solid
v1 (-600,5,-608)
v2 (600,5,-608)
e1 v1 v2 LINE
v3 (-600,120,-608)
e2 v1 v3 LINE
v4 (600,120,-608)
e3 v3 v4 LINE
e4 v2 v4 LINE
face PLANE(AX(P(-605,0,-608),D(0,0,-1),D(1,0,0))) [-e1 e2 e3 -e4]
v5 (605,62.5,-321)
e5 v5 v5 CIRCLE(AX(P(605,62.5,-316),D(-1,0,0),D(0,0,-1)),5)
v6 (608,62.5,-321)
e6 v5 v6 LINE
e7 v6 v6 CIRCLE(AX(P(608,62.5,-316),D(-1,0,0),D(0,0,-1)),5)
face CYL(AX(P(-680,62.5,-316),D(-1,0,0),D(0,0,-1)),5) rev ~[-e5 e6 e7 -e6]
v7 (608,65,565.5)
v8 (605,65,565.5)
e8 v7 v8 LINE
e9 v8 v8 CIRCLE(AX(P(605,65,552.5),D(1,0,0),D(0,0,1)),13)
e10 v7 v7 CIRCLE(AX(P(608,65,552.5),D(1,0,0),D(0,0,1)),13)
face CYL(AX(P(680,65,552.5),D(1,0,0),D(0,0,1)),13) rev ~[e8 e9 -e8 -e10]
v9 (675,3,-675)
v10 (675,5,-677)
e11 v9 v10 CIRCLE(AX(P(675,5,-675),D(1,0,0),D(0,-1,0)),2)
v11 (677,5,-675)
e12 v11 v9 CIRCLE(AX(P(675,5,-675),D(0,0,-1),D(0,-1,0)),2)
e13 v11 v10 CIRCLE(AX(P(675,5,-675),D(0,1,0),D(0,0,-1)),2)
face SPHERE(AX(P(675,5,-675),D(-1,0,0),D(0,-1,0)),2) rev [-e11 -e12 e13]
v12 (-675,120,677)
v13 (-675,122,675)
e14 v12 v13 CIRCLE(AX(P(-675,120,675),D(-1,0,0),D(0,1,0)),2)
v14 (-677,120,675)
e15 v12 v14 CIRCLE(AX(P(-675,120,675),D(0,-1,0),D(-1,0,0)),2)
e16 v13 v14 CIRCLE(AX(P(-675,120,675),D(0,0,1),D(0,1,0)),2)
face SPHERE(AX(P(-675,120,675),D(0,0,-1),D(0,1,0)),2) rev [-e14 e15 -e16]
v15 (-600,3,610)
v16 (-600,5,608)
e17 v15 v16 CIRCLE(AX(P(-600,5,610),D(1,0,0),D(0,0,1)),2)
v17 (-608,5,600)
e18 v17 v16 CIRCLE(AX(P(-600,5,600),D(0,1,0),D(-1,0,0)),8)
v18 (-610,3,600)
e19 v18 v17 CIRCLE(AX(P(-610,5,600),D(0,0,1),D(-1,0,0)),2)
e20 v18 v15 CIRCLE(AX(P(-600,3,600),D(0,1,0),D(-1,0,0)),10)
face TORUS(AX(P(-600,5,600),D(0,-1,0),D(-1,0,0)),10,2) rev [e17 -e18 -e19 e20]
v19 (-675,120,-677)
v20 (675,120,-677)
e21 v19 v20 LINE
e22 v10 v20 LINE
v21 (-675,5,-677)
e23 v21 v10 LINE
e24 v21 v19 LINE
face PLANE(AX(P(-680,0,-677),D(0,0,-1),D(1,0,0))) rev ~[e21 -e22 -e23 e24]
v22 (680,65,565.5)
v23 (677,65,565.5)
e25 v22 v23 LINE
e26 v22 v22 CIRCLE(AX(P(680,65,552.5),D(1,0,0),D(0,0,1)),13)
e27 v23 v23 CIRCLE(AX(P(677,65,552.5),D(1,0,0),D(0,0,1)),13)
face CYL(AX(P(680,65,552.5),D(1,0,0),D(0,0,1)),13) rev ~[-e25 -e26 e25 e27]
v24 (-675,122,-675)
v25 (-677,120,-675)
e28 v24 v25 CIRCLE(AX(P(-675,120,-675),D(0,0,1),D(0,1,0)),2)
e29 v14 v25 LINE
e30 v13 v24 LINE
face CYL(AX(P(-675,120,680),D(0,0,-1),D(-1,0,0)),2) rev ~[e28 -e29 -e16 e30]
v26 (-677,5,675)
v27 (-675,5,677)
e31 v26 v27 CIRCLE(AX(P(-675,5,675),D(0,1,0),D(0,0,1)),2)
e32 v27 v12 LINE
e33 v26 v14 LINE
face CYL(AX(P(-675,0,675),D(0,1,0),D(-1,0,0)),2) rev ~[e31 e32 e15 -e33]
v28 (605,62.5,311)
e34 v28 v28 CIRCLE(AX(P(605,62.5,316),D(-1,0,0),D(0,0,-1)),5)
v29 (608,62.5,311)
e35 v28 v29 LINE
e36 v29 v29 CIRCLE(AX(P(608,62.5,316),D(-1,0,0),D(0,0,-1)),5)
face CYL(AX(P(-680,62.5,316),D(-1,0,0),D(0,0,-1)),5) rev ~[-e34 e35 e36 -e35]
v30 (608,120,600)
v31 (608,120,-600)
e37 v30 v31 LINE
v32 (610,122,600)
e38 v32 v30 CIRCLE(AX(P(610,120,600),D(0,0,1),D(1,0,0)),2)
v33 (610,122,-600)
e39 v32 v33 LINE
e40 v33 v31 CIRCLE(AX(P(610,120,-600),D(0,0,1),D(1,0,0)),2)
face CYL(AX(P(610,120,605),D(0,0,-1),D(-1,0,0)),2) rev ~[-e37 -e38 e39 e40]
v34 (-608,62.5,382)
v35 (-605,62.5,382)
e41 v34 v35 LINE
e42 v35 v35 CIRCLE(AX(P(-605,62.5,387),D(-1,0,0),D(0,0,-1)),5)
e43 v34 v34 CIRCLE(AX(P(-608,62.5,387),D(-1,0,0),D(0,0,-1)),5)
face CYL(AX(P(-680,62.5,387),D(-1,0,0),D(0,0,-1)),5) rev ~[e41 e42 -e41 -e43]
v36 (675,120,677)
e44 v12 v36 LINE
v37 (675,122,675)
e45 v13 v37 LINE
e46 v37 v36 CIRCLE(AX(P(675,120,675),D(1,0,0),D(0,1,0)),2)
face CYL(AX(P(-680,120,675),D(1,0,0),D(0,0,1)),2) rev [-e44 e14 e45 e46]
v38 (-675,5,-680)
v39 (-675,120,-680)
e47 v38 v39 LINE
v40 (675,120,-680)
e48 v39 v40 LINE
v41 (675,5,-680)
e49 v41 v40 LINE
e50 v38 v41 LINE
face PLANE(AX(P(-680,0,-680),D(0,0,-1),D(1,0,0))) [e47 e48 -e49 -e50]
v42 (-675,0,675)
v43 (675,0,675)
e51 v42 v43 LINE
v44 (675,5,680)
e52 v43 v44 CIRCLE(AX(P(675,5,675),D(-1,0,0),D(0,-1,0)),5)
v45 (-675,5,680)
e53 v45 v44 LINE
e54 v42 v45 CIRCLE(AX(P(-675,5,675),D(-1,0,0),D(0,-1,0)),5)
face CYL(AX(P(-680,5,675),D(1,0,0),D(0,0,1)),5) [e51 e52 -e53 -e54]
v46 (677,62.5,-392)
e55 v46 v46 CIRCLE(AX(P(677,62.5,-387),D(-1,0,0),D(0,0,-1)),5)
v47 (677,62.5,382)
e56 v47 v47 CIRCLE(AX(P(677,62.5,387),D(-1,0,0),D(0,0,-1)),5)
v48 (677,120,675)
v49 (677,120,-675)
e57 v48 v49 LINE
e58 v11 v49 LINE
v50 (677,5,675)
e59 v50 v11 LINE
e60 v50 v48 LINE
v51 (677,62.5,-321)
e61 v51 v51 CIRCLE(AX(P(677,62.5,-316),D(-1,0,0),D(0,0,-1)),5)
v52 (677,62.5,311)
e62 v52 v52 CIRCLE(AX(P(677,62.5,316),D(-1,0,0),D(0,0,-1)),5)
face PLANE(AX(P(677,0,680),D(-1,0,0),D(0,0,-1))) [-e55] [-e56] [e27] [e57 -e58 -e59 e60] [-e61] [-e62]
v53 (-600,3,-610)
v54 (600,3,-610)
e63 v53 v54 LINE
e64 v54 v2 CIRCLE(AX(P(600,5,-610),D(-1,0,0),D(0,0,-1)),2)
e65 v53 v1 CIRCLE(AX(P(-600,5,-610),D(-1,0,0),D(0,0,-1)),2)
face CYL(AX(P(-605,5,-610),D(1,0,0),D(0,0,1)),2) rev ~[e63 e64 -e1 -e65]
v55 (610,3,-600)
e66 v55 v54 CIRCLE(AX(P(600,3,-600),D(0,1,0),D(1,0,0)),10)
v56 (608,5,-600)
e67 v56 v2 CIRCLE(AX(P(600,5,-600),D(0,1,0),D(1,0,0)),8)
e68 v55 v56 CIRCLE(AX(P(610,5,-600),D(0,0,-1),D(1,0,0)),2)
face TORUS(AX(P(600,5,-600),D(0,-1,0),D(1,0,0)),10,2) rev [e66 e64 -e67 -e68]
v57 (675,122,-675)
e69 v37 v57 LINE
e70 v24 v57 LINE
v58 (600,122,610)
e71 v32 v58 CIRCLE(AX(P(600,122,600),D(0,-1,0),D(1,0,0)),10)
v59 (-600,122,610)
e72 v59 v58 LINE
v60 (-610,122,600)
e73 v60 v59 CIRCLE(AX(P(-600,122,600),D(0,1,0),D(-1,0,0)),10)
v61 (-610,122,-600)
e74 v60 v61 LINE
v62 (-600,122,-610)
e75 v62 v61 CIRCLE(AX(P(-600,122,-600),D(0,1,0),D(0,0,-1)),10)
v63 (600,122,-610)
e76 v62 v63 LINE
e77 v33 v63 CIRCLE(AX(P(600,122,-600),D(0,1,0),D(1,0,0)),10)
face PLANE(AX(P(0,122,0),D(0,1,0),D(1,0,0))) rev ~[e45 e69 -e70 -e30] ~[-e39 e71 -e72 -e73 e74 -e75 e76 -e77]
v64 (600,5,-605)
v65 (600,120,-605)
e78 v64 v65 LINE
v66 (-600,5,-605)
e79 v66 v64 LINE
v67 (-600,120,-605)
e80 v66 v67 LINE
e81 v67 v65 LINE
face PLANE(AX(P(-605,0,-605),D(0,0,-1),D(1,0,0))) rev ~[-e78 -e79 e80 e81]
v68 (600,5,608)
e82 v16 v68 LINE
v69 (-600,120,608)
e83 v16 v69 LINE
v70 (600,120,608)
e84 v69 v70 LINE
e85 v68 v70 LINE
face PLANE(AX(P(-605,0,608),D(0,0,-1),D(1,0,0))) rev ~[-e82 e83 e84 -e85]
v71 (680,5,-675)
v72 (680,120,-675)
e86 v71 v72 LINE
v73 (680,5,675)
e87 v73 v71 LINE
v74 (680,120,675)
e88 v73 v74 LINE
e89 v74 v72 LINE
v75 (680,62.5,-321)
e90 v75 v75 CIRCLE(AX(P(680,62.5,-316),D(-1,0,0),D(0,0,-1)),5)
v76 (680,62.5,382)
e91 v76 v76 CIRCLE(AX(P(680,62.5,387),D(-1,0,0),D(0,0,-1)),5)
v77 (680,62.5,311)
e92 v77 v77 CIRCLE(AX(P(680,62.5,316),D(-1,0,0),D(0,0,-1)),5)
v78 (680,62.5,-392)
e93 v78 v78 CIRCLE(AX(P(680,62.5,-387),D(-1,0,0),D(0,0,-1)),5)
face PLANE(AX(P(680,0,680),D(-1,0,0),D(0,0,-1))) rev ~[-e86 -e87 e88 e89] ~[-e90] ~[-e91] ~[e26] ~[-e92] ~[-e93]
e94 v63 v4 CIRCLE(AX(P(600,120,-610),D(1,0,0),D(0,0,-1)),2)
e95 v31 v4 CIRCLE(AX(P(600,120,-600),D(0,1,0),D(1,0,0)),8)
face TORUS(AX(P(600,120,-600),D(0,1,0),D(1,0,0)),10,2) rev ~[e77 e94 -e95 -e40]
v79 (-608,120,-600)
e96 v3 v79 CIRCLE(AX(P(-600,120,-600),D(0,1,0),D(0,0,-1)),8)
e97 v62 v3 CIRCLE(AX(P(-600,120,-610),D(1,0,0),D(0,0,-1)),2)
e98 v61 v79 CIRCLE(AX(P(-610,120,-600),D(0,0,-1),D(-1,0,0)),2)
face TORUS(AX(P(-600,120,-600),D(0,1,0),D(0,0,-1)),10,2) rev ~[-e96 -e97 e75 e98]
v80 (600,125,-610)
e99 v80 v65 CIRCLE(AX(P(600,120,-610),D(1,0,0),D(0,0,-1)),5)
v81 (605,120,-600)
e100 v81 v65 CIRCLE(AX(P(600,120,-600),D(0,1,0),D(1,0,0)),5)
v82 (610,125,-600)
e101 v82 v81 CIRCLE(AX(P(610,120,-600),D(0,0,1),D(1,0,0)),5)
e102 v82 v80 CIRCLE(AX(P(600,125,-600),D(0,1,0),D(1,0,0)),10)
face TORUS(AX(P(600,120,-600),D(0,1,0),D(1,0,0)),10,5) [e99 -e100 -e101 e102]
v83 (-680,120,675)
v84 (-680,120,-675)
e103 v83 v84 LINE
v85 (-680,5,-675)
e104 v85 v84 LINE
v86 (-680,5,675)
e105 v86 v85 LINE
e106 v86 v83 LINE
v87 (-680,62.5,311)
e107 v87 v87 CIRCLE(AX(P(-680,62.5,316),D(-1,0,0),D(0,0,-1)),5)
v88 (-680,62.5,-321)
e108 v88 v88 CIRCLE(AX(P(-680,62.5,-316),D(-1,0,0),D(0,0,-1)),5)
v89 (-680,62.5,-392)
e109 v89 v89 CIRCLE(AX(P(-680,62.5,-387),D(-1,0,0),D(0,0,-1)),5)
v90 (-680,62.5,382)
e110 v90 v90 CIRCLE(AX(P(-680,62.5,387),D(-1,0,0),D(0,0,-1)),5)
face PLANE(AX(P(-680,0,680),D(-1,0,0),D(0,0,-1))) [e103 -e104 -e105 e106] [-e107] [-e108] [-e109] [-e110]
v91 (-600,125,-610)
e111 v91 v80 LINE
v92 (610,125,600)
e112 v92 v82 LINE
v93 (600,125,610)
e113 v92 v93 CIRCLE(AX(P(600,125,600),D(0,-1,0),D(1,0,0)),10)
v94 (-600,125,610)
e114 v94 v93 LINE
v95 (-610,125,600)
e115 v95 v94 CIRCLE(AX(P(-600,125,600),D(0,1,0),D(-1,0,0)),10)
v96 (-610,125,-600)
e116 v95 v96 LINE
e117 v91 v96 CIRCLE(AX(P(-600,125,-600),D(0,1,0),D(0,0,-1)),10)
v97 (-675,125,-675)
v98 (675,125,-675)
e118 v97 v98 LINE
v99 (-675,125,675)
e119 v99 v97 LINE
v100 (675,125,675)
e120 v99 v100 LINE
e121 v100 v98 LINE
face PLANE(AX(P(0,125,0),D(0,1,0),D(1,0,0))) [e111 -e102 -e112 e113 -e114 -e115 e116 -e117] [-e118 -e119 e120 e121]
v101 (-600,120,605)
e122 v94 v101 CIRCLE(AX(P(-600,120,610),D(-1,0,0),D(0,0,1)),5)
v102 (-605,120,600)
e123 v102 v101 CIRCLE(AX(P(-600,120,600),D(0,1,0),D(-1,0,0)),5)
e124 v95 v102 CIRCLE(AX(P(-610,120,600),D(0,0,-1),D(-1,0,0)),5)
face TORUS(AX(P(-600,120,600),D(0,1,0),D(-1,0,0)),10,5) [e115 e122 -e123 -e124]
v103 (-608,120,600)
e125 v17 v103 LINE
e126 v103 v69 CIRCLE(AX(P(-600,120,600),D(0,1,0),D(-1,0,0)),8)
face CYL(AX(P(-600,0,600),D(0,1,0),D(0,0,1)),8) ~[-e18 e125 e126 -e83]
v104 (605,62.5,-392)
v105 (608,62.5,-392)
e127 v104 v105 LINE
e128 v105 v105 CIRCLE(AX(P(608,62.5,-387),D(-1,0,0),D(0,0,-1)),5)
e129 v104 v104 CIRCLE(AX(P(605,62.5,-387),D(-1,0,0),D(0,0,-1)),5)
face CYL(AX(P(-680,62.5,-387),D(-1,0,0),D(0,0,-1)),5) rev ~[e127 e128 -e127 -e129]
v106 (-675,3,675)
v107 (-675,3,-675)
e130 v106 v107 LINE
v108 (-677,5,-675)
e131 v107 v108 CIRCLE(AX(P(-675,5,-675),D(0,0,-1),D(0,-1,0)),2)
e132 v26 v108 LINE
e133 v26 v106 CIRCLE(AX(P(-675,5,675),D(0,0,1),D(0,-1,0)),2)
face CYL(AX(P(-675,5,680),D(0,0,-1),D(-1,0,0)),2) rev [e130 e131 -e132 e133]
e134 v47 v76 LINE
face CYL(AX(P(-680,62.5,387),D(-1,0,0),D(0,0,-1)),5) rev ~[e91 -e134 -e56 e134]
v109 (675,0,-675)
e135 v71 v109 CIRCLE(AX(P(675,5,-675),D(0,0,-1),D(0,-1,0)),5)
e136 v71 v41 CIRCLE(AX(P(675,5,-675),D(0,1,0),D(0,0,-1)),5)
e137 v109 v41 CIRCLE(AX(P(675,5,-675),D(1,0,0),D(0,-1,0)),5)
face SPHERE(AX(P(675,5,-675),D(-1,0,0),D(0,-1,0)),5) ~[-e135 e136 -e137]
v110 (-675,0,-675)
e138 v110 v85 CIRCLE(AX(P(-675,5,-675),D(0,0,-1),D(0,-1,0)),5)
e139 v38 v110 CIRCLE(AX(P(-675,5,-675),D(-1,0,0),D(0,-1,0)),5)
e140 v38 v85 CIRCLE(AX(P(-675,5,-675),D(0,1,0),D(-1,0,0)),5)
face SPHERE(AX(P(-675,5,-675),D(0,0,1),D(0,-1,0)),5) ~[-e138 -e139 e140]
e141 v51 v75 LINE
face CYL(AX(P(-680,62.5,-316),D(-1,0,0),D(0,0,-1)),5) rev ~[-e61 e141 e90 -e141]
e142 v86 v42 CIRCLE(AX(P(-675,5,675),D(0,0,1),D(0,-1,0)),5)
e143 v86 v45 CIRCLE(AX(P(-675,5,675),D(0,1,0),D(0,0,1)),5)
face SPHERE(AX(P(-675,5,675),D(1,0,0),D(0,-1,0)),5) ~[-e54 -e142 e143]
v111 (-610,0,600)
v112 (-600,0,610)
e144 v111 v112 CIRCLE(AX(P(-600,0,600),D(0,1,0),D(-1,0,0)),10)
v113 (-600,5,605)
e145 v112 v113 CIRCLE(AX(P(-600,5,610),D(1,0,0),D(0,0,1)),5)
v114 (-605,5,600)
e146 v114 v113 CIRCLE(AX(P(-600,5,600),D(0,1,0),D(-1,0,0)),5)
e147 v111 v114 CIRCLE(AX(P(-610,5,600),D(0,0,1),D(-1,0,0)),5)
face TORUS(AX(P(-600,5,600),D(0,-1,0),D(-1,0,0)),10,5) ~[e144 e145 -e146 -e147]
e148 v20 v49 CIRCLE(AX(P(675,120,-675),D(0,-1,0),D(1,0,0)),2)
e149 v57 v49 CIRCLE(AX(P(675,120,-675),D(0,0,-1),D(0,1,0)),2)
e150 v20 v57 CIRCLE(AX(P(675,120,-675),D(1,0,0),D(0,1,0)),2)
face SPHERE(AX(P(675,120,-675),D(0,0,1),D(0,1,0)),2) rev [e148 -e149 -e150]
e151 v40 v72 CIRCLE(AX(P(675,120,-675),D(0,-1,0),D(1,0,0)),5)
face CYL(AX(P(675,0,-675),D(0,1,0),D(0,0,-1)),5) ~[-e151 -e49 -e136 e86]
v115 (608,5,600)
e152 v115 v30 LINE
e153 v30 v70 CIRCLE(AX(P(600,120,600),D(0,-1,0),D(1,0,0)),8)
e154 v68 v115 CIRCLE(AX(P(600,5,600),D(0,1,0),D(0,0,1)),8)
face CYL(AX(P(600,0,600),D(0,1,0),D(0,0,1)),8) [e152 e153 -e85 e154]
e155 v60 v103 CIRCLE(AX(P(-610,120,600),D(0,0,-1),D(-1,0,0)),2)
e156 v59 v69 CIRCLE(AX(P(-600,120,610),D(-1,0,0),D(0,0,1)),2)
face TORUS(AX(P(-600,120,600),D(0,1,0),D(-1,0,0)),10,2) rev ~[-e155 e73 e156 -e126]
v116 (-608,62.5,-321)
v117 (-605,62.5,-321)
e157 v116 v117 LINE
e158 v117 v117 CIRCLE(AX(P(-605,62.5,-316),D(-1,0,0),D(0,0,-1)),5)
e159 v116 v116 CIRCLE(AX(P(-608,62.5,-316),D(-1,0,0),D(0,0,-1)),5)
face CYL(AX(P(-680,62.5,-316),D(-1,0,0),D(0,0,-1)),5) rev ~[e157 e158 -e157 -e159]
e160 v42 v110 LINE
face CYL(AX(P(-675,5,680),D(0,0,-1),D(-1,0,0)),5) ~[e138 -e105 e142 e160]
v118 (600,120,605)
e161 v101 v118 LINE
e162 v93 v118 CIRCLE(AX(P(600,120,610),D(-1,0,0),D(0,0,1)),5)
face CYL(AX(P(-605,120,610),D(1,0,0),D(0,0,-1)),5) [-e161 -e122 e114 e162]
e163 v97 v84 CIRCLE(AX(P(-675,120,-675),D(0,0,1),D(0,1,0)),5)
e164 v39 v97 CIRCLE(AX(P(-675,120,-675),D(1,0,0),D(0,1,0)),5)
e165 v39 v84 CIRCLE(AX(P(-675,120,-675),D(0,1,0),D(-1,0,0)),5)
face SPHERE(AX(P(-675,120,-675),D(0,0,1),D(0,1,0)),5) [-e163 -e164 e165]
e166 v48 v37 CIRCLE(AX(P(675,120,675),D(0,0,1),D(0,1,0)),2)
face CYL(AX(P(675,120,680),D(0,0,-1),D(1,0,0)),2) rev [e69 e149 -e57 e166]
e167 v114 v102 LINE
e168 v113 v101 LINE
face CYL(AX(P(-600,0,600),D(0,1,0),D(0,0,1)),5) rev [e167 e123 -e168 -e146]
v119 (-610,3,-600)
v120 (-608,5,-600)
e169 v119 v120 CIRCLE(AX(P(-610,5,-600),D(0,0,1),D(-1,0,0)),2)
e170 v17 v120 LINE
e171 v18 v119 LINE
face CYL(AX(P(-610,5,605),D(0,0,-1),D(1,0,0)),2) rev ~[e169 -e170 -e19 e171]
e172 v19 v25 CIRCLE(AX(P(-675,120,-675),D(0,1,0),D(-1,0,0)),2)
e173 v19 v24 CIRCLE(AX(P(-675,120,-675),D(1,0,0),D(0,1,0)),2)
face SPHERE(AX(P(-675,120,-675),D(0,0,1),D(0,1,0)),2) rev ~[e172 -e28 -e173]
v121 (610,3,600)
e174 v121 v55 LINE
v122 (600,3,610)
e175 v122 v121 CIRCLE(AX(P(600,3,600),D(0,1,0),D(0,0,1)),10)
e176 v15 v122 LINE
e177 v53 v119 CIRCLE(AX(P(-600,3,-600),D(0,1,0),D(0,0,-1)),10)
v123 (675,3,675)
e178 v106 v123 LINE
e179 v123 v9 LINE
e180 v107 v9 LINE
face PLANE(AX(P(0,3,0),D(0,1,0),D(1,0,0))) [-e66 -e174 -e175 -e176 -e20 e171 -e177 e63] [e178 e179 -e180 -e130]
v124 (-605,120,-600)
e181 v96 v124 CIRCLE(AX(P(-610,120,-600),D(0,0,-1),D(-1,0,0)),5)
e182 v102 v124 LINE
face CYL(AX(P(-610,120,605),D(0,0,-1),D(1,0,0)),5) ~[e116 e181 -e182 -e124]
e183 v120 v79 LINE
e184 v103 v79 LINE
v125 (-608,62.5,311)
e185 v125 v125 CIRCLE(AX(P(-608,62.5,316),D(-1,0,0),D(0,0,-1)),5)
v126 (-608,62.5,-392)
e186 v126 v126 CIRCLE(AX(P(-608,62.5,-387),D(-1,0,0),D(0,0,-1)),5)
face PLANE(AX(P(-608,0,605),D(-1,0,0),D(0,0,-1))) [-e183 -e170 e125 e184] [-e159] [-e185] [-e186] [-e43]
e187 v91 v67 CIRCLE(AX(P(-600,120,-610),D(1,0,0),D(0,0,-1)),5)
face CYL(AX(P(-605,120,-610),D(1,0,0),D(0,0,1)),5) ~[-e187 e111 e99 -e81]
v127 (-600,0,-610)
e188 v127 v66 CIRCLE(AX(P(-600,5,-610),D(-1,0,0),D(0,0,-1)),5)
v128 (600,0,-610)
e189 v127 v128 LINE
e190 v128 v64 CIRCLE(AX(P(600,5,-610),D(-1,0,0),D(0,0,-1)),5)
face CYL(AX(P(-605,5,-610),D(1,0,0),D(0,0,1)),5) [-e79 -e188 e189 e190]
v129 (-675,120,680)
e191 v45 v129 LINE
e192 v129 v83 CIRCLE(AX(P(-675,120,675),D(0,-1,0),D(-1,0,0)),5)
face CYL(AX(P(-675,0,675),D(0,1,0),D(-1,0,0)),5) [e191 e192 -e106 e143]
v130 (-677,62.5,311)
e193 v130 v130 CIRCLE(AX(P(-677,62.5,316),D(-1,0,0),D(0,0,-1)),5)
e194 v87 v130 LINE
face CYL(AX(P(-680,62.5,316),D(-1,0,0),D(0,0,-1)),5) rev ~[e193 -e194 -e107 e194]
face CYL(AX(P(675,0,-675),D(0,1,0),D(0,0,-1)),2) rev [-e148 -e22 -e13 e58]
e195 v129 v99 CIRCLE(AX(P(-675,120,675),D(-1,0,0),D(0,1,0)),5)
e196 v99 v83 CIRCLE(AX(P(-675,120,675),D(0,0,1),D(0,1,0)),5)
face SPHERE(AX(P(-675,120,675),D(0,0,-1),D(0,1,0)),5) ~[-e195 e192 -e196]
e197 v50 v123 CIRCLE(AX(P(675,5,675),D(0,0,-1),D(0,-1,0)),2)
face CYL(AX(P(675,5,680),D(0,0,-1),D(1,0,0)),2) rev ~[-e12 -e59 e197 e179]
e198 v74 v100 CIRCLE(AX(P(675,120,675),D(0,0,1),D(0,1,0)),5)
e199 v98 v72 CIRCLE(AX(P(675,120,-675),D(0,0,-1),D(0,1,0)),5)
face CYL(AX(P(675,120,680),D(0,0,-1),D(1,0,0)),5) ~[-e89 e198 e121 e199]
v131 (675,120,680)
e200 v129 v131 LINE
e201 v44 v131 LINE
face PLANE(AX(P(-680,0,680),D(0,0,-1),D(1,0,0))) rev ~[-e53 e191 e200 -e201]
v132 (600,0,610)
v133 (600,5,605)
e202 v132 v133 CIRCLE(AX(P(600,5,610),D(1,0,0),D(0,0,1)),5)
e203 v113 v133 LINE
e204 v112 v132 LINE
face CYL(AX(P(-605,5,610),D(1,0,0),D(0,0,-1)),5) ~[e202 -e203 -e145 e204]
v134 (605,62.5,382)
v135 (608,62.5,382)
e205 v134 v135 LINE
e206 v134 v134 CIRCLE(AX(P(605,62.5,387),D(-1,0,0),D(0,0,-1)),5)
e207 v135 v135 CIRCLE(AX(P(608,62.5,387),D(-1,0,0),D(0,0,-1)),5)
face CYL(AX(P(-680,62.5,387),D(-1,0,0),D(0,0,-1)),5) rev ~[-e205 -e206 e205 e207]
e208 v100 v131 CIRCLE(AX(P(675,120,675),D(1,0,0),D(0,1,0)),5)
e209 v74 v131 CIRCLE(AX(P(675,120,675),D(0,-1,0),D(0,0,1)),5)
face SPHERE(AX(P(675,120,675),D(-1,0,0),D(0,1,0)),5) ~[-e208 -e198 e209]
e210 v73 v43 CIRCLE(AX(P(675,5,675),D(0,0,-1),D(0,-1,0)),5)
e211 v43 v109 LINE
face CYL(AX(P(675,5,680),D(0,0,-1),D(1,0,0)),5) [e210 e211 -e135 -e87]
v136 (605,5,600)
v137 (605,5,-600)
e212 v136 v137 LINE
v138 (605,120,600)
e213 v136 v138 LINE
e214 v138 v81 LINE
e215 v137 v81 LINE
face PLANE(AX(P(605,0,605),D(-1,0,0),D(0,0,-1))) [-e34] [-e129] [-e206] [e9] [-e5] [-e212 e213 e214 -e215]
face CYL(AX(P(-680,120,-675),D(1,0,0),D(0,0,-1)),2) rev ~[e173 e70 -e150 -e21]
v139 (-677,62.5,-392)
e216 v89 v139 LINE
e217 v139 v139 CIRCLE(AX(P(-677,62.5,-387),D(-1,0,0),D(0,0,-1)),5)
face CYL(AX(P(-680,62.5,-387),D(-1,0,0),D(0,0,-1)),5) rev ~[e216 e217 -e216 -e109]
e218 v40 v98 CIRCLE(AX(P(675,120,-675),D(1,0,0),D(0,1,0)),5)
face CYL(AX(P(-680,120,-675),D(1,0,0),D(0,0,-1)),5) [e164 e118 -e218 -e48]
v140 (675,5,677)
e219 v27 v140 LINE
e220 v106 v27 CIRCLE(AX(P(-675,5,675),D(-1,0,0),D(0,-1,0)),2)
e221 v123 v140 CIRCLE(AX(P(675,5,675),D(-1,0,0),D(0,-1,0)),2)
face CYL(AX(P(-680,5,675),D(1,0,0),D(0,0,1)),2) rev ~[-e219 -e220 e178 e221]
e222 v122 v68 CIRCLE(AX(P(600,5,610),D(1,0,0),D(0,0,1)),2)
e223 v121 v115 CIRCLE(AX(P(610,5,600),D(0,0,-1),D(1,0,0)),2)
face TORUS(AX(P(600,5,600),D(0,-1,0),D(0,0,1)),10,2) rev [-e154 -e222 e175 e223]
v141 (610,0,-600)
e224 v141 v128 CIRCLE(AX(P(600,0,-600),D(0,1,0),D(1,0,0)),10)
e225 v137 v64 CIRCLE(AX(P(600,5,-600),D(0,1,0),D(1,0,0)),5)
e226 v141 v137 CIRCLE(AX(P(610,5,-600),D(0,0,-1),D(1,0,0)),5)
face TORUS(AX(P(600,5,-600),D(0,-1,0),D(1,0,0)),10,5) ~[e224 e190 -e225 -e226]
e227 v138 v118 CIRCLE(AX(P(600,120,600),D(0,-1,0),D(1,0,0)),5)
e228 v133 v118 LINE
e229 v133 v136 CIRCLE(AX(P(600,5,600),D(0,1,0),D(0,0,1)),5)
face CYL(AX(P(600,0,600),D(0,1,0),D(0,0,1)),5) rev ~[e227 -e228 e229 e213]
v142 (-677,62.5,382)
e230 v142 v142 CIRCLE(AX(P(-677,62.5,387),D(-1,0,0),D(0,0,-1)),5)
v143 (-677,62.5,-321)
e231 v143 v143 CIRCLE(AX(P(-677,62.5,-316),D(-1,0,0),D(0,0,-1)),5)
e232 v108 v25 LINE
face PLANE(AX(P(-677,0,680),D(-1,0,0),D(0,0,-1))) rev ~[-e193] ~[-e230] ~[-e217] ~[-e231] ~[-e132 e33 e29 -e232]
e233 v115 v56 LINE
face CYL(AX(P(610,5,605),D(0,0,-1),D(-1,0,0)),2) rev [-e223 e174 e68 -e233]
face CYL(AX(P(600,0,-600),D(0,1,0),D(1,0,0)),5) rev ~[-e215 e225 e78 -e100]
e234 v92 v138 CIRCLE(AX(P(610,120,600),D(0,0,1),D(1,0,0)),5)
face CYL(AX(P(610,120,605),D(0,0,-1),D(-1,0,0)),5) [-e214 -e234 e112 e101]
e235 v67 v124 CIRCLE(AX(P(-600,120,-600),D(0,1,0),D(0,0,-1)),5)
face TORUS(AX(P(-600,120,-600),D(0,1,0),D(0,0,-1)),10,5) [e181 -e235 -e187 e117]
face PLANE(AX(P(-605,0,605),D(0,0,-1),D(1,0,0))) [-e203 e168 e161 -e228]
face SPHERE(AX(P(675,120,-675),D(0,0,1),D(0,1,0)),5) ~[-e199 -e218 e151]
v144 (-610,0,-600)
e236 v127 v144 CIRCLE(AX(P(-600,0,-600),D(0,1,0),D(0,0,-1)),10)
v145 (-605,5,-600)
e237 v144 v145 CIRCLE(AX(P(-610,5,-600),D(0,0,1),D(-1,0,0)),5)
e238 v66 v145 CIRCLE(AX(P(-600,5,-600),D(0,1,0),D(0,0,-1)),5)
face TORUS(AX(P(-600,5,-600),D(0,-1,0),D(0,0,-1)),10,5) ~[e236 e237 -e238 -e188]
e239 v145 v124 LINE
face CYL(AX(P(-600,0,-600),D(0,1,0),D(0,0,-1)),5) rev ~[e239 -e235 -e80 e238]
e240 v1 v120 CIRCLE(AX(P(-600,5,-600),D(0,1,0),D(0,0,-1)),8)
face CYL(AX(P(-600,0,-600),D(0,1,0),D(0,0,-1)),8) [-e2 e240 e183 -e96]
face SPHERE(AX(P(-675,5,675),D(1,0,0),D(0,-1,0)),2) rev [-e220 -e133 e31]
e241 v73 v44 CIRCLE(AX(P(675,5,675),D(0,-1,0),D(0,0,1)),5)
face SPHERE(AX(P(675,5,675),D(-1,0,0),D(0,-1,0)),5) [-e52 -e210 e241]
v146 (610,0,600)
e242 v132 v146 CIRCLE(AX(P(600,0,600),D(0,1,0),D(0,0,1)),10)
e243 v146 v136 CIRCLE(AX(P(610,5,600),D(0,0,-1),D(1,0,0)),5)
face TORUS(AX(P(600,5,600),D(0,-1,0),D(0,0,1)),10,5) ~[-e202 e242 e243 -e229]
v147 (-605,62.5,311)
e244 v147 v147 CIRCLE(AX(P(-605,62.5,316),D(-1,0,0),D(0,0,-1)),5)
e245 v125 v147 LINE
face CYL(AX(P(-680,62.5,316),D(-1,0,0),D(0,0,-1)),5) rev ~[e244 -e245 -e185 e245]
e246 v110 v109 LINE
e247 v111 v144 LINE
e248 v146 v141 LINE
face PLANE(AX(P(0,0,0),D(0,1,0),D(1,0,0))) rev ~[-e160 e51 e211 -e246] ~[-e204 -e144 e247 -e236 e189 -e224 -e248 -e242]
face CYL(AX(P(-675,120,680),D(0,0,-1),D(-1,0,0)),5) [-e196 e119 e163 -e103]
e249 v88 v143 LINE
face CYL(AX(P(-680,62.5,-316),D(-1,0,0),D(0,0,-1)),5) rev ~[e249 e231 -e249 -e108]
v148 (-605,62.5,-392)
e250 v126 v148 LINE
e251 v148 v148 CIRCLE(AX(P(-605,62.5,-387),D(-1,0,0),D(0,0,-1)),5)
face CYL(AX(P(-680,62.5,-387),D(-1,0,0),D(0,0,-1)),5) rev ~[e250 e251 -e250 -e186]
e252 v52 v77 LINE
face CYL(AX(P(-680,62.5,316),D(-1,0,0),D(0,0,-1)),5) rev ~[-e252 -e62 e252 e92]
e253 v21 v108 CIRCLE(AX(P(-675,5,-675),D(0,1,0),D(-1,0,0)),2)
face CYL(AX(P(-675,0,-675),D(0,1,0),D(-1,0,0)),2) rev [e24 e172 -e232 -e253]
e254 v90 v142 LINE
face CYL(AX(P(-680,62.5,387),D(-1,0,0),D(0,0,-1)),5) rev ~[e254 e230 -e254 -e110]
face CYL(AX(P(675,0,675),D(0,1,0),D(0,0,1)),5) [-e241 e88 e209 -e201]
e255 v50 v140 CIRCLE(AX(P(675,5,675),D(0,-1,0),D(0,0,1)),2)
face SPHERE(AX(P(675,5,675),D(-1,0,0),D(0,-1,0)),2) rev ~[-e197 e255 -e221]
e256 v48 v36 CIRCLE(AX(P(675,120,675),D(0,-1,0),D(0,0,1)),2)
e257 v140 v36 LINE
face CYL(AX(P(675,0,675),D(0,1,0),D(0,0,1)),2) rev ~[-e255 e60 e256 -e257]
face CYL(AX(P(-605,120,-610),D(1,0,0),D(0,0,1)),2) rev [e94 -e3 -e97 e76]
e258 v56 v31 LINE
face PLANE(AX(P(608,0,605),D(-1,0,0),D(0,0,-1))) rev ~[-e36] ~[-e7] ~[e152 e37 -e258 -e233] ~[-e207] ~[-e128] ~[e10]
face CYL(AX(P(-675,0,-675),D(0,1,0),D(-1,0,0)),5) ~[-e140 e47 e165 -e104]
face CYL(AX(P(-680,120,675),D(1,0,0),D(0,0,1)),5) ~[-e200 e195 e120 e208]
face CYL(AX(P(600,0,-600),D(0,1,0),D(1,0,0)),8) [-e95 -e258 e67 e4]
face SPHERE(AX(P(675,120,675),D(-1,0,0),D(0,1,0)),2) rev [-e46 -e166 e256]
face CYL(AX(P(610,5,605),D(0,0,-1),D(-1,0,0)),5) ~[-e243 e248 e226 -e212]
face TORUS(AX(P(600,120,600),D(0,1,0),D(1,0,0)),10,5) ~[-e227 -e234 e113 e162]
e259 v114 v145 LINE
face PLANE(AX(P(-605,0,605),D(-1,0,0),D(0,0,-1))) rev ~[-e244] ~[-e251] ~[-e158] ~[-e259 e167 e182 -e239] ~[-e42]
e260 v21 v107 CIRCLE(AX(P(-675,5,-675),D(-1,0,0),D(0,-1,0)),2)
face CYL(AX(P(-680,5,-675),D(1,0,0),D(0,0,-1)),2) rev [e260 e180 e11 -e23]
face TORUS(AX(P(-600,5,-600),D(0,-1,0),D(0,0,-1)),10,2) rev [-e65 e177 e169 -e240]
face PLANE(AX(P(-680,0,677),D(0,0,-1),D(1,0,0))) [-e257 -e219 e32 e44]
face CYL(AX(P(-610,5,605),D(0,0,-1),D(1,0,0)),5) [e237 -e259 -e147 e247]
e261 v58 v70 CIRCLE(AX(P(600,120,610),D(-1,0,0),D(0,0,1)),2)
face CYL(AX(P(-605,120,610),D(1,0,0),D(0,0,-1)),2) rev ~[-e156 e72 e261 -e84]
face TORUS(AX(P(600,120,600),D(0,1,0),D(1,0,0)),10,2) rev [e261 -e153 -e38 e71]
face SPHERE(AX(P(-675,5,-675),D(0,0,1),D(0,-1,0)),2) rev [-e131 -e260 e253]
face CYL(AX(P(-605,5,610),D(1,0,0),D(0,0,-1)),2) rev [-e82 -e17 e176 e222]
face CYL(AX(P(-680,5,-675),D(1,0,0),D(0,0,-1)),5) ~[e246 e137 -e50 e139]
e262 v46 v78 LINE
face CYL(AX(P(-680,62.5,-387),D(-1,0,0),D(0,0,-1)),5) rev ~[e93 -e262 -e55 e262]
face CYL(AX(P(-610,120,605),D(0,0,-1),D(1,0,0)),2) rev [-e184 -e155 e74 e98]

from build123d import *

# Parameters (mm, degrees)
SKETCH1_W           = 1360
SKETCH1_H           = 1360
SKETCH1_W_2         = 1210
SKETCH1_H_2         = 1210
BOSS_EXTRUDE1_DEPTH = 125
FILLET1_R           = 5
SHELL1_T            = 3
SKETCH2_R           = 5
CUT_EXTRUDE1_DEPTH  = 1526.655596785
CUT_EXTRUDE2_REACH  = 1527.656
SKETCH3_R           = 13


with BuildPart() as part:
    # Sketch1 → Boss-Extrude1 (new body)
    with BuildSketch(Plane(origin=(0, 0, 0), x_dir=(1, 0, 0), z_dir=(0, 1, 0))):
        Rectangle(SKETCH1_W, SKETCH1_H)
        Rectangle(SKETCH1_W_2, SKETCH1_H_2, mode=Mode.SUBTRACT)
    extrude(amount=BOSS_EXTRUDE1_DEPTH)

    # Fillet1
    fillet1_edges = [part.edges().sort_by_distance(p)[0] for p in [
        (-680, 125, 0),
        (0, 125, 680),
        (605, 0, 0),
        (605, 62.5, 605),
        (0, 0, -605),
        (605, 62.5, -605),
        (-605, 0, 0),
        (-605, 62.5, -605),
        (0, 0, 605),
        (-605, 62.5, 605),
        (605, 125, 0),
        (0, 125, -605),
        (-605, 125, 0),
        (0, 125, 605),
        (680, 125, 0),
        (0, 0, 680),
        (-680, 0, 0),
        (0, 0, -680),
        (680, 0, 0),
        (0, 125, -680),
        (680, 62.5, 680),
        (-680, 62.5, 680),
        (-680, 62.5, -680),
        (680, 62.5, -680),
    ]]
    fillet(fillet1_edges, radius=FILLET1_R)

    # Shell1 (no face opened: a closed hollow body)
    add(offset(amount=-SHELL1_T, mode=Mode.PRIVATE), mode=Mode.SUBTRACT)

    # Sketch2 → Cut-Extrude1 (cut, through all)
    with BuildSketch(Plane.ZY.offset(680)):
        with Locations(Location((-387, 62.5, 0), (0, 0, 180))):
            Circle(SKETCH2_R)
        with Locations(Location((-316, 62.5, 0), (0, 0, 180))):
            Circle(SKETCH2_R)
        with Locations(Location((387, 62.5, 0), (0, 0, 180))):
            Circle(SKETCH2_R)
        with Locations(Location((316, 62.5, 0), (0, 0, 180))):
            Circle(SKETCH2_R)
    extrude(amount=-CUT_EXTRUDE1_DEPTH, mode=Mode.SUBTRACT)

    # Cut-Extrude2: up to this face of the body (flat: up to its plane)
    cut_extrude2_end = Plane(part.part.faces().sort_by_distance((605, 62.5, 0))[0])
    # Sketch3 → Cut-Extrude2 (cut, up to the picked face)
    with BuildSketch(Plane(origin=(680, 0, 0), x_dir=(0, 0, -1), z_dir=(1, 0, 0)), mode=Mode.PRIVATE) as cut_extrude2_sk1:
        with Locations(Location((-552.5, 65, 0), (0, 0, 180))):
            Circle(SKETCH3_R)
    cut_extrude2_tool1 = split(extrude(cut_extrude2_sk1.sketch, amount=-CUT_EXTRUDE2_REACH, mode=Mode.PRIVATE), bisect_by=cut_extrude2_end, keep=Keep.BOTH, mode=Mode.PRIVATE)
    add(cut_extrude2_tool1.solids().sort_by(Axis((680, 65, 552.5), (-1, 0, 0)))[0], mode=Mode.SUBTRACT)


solid = part.part
